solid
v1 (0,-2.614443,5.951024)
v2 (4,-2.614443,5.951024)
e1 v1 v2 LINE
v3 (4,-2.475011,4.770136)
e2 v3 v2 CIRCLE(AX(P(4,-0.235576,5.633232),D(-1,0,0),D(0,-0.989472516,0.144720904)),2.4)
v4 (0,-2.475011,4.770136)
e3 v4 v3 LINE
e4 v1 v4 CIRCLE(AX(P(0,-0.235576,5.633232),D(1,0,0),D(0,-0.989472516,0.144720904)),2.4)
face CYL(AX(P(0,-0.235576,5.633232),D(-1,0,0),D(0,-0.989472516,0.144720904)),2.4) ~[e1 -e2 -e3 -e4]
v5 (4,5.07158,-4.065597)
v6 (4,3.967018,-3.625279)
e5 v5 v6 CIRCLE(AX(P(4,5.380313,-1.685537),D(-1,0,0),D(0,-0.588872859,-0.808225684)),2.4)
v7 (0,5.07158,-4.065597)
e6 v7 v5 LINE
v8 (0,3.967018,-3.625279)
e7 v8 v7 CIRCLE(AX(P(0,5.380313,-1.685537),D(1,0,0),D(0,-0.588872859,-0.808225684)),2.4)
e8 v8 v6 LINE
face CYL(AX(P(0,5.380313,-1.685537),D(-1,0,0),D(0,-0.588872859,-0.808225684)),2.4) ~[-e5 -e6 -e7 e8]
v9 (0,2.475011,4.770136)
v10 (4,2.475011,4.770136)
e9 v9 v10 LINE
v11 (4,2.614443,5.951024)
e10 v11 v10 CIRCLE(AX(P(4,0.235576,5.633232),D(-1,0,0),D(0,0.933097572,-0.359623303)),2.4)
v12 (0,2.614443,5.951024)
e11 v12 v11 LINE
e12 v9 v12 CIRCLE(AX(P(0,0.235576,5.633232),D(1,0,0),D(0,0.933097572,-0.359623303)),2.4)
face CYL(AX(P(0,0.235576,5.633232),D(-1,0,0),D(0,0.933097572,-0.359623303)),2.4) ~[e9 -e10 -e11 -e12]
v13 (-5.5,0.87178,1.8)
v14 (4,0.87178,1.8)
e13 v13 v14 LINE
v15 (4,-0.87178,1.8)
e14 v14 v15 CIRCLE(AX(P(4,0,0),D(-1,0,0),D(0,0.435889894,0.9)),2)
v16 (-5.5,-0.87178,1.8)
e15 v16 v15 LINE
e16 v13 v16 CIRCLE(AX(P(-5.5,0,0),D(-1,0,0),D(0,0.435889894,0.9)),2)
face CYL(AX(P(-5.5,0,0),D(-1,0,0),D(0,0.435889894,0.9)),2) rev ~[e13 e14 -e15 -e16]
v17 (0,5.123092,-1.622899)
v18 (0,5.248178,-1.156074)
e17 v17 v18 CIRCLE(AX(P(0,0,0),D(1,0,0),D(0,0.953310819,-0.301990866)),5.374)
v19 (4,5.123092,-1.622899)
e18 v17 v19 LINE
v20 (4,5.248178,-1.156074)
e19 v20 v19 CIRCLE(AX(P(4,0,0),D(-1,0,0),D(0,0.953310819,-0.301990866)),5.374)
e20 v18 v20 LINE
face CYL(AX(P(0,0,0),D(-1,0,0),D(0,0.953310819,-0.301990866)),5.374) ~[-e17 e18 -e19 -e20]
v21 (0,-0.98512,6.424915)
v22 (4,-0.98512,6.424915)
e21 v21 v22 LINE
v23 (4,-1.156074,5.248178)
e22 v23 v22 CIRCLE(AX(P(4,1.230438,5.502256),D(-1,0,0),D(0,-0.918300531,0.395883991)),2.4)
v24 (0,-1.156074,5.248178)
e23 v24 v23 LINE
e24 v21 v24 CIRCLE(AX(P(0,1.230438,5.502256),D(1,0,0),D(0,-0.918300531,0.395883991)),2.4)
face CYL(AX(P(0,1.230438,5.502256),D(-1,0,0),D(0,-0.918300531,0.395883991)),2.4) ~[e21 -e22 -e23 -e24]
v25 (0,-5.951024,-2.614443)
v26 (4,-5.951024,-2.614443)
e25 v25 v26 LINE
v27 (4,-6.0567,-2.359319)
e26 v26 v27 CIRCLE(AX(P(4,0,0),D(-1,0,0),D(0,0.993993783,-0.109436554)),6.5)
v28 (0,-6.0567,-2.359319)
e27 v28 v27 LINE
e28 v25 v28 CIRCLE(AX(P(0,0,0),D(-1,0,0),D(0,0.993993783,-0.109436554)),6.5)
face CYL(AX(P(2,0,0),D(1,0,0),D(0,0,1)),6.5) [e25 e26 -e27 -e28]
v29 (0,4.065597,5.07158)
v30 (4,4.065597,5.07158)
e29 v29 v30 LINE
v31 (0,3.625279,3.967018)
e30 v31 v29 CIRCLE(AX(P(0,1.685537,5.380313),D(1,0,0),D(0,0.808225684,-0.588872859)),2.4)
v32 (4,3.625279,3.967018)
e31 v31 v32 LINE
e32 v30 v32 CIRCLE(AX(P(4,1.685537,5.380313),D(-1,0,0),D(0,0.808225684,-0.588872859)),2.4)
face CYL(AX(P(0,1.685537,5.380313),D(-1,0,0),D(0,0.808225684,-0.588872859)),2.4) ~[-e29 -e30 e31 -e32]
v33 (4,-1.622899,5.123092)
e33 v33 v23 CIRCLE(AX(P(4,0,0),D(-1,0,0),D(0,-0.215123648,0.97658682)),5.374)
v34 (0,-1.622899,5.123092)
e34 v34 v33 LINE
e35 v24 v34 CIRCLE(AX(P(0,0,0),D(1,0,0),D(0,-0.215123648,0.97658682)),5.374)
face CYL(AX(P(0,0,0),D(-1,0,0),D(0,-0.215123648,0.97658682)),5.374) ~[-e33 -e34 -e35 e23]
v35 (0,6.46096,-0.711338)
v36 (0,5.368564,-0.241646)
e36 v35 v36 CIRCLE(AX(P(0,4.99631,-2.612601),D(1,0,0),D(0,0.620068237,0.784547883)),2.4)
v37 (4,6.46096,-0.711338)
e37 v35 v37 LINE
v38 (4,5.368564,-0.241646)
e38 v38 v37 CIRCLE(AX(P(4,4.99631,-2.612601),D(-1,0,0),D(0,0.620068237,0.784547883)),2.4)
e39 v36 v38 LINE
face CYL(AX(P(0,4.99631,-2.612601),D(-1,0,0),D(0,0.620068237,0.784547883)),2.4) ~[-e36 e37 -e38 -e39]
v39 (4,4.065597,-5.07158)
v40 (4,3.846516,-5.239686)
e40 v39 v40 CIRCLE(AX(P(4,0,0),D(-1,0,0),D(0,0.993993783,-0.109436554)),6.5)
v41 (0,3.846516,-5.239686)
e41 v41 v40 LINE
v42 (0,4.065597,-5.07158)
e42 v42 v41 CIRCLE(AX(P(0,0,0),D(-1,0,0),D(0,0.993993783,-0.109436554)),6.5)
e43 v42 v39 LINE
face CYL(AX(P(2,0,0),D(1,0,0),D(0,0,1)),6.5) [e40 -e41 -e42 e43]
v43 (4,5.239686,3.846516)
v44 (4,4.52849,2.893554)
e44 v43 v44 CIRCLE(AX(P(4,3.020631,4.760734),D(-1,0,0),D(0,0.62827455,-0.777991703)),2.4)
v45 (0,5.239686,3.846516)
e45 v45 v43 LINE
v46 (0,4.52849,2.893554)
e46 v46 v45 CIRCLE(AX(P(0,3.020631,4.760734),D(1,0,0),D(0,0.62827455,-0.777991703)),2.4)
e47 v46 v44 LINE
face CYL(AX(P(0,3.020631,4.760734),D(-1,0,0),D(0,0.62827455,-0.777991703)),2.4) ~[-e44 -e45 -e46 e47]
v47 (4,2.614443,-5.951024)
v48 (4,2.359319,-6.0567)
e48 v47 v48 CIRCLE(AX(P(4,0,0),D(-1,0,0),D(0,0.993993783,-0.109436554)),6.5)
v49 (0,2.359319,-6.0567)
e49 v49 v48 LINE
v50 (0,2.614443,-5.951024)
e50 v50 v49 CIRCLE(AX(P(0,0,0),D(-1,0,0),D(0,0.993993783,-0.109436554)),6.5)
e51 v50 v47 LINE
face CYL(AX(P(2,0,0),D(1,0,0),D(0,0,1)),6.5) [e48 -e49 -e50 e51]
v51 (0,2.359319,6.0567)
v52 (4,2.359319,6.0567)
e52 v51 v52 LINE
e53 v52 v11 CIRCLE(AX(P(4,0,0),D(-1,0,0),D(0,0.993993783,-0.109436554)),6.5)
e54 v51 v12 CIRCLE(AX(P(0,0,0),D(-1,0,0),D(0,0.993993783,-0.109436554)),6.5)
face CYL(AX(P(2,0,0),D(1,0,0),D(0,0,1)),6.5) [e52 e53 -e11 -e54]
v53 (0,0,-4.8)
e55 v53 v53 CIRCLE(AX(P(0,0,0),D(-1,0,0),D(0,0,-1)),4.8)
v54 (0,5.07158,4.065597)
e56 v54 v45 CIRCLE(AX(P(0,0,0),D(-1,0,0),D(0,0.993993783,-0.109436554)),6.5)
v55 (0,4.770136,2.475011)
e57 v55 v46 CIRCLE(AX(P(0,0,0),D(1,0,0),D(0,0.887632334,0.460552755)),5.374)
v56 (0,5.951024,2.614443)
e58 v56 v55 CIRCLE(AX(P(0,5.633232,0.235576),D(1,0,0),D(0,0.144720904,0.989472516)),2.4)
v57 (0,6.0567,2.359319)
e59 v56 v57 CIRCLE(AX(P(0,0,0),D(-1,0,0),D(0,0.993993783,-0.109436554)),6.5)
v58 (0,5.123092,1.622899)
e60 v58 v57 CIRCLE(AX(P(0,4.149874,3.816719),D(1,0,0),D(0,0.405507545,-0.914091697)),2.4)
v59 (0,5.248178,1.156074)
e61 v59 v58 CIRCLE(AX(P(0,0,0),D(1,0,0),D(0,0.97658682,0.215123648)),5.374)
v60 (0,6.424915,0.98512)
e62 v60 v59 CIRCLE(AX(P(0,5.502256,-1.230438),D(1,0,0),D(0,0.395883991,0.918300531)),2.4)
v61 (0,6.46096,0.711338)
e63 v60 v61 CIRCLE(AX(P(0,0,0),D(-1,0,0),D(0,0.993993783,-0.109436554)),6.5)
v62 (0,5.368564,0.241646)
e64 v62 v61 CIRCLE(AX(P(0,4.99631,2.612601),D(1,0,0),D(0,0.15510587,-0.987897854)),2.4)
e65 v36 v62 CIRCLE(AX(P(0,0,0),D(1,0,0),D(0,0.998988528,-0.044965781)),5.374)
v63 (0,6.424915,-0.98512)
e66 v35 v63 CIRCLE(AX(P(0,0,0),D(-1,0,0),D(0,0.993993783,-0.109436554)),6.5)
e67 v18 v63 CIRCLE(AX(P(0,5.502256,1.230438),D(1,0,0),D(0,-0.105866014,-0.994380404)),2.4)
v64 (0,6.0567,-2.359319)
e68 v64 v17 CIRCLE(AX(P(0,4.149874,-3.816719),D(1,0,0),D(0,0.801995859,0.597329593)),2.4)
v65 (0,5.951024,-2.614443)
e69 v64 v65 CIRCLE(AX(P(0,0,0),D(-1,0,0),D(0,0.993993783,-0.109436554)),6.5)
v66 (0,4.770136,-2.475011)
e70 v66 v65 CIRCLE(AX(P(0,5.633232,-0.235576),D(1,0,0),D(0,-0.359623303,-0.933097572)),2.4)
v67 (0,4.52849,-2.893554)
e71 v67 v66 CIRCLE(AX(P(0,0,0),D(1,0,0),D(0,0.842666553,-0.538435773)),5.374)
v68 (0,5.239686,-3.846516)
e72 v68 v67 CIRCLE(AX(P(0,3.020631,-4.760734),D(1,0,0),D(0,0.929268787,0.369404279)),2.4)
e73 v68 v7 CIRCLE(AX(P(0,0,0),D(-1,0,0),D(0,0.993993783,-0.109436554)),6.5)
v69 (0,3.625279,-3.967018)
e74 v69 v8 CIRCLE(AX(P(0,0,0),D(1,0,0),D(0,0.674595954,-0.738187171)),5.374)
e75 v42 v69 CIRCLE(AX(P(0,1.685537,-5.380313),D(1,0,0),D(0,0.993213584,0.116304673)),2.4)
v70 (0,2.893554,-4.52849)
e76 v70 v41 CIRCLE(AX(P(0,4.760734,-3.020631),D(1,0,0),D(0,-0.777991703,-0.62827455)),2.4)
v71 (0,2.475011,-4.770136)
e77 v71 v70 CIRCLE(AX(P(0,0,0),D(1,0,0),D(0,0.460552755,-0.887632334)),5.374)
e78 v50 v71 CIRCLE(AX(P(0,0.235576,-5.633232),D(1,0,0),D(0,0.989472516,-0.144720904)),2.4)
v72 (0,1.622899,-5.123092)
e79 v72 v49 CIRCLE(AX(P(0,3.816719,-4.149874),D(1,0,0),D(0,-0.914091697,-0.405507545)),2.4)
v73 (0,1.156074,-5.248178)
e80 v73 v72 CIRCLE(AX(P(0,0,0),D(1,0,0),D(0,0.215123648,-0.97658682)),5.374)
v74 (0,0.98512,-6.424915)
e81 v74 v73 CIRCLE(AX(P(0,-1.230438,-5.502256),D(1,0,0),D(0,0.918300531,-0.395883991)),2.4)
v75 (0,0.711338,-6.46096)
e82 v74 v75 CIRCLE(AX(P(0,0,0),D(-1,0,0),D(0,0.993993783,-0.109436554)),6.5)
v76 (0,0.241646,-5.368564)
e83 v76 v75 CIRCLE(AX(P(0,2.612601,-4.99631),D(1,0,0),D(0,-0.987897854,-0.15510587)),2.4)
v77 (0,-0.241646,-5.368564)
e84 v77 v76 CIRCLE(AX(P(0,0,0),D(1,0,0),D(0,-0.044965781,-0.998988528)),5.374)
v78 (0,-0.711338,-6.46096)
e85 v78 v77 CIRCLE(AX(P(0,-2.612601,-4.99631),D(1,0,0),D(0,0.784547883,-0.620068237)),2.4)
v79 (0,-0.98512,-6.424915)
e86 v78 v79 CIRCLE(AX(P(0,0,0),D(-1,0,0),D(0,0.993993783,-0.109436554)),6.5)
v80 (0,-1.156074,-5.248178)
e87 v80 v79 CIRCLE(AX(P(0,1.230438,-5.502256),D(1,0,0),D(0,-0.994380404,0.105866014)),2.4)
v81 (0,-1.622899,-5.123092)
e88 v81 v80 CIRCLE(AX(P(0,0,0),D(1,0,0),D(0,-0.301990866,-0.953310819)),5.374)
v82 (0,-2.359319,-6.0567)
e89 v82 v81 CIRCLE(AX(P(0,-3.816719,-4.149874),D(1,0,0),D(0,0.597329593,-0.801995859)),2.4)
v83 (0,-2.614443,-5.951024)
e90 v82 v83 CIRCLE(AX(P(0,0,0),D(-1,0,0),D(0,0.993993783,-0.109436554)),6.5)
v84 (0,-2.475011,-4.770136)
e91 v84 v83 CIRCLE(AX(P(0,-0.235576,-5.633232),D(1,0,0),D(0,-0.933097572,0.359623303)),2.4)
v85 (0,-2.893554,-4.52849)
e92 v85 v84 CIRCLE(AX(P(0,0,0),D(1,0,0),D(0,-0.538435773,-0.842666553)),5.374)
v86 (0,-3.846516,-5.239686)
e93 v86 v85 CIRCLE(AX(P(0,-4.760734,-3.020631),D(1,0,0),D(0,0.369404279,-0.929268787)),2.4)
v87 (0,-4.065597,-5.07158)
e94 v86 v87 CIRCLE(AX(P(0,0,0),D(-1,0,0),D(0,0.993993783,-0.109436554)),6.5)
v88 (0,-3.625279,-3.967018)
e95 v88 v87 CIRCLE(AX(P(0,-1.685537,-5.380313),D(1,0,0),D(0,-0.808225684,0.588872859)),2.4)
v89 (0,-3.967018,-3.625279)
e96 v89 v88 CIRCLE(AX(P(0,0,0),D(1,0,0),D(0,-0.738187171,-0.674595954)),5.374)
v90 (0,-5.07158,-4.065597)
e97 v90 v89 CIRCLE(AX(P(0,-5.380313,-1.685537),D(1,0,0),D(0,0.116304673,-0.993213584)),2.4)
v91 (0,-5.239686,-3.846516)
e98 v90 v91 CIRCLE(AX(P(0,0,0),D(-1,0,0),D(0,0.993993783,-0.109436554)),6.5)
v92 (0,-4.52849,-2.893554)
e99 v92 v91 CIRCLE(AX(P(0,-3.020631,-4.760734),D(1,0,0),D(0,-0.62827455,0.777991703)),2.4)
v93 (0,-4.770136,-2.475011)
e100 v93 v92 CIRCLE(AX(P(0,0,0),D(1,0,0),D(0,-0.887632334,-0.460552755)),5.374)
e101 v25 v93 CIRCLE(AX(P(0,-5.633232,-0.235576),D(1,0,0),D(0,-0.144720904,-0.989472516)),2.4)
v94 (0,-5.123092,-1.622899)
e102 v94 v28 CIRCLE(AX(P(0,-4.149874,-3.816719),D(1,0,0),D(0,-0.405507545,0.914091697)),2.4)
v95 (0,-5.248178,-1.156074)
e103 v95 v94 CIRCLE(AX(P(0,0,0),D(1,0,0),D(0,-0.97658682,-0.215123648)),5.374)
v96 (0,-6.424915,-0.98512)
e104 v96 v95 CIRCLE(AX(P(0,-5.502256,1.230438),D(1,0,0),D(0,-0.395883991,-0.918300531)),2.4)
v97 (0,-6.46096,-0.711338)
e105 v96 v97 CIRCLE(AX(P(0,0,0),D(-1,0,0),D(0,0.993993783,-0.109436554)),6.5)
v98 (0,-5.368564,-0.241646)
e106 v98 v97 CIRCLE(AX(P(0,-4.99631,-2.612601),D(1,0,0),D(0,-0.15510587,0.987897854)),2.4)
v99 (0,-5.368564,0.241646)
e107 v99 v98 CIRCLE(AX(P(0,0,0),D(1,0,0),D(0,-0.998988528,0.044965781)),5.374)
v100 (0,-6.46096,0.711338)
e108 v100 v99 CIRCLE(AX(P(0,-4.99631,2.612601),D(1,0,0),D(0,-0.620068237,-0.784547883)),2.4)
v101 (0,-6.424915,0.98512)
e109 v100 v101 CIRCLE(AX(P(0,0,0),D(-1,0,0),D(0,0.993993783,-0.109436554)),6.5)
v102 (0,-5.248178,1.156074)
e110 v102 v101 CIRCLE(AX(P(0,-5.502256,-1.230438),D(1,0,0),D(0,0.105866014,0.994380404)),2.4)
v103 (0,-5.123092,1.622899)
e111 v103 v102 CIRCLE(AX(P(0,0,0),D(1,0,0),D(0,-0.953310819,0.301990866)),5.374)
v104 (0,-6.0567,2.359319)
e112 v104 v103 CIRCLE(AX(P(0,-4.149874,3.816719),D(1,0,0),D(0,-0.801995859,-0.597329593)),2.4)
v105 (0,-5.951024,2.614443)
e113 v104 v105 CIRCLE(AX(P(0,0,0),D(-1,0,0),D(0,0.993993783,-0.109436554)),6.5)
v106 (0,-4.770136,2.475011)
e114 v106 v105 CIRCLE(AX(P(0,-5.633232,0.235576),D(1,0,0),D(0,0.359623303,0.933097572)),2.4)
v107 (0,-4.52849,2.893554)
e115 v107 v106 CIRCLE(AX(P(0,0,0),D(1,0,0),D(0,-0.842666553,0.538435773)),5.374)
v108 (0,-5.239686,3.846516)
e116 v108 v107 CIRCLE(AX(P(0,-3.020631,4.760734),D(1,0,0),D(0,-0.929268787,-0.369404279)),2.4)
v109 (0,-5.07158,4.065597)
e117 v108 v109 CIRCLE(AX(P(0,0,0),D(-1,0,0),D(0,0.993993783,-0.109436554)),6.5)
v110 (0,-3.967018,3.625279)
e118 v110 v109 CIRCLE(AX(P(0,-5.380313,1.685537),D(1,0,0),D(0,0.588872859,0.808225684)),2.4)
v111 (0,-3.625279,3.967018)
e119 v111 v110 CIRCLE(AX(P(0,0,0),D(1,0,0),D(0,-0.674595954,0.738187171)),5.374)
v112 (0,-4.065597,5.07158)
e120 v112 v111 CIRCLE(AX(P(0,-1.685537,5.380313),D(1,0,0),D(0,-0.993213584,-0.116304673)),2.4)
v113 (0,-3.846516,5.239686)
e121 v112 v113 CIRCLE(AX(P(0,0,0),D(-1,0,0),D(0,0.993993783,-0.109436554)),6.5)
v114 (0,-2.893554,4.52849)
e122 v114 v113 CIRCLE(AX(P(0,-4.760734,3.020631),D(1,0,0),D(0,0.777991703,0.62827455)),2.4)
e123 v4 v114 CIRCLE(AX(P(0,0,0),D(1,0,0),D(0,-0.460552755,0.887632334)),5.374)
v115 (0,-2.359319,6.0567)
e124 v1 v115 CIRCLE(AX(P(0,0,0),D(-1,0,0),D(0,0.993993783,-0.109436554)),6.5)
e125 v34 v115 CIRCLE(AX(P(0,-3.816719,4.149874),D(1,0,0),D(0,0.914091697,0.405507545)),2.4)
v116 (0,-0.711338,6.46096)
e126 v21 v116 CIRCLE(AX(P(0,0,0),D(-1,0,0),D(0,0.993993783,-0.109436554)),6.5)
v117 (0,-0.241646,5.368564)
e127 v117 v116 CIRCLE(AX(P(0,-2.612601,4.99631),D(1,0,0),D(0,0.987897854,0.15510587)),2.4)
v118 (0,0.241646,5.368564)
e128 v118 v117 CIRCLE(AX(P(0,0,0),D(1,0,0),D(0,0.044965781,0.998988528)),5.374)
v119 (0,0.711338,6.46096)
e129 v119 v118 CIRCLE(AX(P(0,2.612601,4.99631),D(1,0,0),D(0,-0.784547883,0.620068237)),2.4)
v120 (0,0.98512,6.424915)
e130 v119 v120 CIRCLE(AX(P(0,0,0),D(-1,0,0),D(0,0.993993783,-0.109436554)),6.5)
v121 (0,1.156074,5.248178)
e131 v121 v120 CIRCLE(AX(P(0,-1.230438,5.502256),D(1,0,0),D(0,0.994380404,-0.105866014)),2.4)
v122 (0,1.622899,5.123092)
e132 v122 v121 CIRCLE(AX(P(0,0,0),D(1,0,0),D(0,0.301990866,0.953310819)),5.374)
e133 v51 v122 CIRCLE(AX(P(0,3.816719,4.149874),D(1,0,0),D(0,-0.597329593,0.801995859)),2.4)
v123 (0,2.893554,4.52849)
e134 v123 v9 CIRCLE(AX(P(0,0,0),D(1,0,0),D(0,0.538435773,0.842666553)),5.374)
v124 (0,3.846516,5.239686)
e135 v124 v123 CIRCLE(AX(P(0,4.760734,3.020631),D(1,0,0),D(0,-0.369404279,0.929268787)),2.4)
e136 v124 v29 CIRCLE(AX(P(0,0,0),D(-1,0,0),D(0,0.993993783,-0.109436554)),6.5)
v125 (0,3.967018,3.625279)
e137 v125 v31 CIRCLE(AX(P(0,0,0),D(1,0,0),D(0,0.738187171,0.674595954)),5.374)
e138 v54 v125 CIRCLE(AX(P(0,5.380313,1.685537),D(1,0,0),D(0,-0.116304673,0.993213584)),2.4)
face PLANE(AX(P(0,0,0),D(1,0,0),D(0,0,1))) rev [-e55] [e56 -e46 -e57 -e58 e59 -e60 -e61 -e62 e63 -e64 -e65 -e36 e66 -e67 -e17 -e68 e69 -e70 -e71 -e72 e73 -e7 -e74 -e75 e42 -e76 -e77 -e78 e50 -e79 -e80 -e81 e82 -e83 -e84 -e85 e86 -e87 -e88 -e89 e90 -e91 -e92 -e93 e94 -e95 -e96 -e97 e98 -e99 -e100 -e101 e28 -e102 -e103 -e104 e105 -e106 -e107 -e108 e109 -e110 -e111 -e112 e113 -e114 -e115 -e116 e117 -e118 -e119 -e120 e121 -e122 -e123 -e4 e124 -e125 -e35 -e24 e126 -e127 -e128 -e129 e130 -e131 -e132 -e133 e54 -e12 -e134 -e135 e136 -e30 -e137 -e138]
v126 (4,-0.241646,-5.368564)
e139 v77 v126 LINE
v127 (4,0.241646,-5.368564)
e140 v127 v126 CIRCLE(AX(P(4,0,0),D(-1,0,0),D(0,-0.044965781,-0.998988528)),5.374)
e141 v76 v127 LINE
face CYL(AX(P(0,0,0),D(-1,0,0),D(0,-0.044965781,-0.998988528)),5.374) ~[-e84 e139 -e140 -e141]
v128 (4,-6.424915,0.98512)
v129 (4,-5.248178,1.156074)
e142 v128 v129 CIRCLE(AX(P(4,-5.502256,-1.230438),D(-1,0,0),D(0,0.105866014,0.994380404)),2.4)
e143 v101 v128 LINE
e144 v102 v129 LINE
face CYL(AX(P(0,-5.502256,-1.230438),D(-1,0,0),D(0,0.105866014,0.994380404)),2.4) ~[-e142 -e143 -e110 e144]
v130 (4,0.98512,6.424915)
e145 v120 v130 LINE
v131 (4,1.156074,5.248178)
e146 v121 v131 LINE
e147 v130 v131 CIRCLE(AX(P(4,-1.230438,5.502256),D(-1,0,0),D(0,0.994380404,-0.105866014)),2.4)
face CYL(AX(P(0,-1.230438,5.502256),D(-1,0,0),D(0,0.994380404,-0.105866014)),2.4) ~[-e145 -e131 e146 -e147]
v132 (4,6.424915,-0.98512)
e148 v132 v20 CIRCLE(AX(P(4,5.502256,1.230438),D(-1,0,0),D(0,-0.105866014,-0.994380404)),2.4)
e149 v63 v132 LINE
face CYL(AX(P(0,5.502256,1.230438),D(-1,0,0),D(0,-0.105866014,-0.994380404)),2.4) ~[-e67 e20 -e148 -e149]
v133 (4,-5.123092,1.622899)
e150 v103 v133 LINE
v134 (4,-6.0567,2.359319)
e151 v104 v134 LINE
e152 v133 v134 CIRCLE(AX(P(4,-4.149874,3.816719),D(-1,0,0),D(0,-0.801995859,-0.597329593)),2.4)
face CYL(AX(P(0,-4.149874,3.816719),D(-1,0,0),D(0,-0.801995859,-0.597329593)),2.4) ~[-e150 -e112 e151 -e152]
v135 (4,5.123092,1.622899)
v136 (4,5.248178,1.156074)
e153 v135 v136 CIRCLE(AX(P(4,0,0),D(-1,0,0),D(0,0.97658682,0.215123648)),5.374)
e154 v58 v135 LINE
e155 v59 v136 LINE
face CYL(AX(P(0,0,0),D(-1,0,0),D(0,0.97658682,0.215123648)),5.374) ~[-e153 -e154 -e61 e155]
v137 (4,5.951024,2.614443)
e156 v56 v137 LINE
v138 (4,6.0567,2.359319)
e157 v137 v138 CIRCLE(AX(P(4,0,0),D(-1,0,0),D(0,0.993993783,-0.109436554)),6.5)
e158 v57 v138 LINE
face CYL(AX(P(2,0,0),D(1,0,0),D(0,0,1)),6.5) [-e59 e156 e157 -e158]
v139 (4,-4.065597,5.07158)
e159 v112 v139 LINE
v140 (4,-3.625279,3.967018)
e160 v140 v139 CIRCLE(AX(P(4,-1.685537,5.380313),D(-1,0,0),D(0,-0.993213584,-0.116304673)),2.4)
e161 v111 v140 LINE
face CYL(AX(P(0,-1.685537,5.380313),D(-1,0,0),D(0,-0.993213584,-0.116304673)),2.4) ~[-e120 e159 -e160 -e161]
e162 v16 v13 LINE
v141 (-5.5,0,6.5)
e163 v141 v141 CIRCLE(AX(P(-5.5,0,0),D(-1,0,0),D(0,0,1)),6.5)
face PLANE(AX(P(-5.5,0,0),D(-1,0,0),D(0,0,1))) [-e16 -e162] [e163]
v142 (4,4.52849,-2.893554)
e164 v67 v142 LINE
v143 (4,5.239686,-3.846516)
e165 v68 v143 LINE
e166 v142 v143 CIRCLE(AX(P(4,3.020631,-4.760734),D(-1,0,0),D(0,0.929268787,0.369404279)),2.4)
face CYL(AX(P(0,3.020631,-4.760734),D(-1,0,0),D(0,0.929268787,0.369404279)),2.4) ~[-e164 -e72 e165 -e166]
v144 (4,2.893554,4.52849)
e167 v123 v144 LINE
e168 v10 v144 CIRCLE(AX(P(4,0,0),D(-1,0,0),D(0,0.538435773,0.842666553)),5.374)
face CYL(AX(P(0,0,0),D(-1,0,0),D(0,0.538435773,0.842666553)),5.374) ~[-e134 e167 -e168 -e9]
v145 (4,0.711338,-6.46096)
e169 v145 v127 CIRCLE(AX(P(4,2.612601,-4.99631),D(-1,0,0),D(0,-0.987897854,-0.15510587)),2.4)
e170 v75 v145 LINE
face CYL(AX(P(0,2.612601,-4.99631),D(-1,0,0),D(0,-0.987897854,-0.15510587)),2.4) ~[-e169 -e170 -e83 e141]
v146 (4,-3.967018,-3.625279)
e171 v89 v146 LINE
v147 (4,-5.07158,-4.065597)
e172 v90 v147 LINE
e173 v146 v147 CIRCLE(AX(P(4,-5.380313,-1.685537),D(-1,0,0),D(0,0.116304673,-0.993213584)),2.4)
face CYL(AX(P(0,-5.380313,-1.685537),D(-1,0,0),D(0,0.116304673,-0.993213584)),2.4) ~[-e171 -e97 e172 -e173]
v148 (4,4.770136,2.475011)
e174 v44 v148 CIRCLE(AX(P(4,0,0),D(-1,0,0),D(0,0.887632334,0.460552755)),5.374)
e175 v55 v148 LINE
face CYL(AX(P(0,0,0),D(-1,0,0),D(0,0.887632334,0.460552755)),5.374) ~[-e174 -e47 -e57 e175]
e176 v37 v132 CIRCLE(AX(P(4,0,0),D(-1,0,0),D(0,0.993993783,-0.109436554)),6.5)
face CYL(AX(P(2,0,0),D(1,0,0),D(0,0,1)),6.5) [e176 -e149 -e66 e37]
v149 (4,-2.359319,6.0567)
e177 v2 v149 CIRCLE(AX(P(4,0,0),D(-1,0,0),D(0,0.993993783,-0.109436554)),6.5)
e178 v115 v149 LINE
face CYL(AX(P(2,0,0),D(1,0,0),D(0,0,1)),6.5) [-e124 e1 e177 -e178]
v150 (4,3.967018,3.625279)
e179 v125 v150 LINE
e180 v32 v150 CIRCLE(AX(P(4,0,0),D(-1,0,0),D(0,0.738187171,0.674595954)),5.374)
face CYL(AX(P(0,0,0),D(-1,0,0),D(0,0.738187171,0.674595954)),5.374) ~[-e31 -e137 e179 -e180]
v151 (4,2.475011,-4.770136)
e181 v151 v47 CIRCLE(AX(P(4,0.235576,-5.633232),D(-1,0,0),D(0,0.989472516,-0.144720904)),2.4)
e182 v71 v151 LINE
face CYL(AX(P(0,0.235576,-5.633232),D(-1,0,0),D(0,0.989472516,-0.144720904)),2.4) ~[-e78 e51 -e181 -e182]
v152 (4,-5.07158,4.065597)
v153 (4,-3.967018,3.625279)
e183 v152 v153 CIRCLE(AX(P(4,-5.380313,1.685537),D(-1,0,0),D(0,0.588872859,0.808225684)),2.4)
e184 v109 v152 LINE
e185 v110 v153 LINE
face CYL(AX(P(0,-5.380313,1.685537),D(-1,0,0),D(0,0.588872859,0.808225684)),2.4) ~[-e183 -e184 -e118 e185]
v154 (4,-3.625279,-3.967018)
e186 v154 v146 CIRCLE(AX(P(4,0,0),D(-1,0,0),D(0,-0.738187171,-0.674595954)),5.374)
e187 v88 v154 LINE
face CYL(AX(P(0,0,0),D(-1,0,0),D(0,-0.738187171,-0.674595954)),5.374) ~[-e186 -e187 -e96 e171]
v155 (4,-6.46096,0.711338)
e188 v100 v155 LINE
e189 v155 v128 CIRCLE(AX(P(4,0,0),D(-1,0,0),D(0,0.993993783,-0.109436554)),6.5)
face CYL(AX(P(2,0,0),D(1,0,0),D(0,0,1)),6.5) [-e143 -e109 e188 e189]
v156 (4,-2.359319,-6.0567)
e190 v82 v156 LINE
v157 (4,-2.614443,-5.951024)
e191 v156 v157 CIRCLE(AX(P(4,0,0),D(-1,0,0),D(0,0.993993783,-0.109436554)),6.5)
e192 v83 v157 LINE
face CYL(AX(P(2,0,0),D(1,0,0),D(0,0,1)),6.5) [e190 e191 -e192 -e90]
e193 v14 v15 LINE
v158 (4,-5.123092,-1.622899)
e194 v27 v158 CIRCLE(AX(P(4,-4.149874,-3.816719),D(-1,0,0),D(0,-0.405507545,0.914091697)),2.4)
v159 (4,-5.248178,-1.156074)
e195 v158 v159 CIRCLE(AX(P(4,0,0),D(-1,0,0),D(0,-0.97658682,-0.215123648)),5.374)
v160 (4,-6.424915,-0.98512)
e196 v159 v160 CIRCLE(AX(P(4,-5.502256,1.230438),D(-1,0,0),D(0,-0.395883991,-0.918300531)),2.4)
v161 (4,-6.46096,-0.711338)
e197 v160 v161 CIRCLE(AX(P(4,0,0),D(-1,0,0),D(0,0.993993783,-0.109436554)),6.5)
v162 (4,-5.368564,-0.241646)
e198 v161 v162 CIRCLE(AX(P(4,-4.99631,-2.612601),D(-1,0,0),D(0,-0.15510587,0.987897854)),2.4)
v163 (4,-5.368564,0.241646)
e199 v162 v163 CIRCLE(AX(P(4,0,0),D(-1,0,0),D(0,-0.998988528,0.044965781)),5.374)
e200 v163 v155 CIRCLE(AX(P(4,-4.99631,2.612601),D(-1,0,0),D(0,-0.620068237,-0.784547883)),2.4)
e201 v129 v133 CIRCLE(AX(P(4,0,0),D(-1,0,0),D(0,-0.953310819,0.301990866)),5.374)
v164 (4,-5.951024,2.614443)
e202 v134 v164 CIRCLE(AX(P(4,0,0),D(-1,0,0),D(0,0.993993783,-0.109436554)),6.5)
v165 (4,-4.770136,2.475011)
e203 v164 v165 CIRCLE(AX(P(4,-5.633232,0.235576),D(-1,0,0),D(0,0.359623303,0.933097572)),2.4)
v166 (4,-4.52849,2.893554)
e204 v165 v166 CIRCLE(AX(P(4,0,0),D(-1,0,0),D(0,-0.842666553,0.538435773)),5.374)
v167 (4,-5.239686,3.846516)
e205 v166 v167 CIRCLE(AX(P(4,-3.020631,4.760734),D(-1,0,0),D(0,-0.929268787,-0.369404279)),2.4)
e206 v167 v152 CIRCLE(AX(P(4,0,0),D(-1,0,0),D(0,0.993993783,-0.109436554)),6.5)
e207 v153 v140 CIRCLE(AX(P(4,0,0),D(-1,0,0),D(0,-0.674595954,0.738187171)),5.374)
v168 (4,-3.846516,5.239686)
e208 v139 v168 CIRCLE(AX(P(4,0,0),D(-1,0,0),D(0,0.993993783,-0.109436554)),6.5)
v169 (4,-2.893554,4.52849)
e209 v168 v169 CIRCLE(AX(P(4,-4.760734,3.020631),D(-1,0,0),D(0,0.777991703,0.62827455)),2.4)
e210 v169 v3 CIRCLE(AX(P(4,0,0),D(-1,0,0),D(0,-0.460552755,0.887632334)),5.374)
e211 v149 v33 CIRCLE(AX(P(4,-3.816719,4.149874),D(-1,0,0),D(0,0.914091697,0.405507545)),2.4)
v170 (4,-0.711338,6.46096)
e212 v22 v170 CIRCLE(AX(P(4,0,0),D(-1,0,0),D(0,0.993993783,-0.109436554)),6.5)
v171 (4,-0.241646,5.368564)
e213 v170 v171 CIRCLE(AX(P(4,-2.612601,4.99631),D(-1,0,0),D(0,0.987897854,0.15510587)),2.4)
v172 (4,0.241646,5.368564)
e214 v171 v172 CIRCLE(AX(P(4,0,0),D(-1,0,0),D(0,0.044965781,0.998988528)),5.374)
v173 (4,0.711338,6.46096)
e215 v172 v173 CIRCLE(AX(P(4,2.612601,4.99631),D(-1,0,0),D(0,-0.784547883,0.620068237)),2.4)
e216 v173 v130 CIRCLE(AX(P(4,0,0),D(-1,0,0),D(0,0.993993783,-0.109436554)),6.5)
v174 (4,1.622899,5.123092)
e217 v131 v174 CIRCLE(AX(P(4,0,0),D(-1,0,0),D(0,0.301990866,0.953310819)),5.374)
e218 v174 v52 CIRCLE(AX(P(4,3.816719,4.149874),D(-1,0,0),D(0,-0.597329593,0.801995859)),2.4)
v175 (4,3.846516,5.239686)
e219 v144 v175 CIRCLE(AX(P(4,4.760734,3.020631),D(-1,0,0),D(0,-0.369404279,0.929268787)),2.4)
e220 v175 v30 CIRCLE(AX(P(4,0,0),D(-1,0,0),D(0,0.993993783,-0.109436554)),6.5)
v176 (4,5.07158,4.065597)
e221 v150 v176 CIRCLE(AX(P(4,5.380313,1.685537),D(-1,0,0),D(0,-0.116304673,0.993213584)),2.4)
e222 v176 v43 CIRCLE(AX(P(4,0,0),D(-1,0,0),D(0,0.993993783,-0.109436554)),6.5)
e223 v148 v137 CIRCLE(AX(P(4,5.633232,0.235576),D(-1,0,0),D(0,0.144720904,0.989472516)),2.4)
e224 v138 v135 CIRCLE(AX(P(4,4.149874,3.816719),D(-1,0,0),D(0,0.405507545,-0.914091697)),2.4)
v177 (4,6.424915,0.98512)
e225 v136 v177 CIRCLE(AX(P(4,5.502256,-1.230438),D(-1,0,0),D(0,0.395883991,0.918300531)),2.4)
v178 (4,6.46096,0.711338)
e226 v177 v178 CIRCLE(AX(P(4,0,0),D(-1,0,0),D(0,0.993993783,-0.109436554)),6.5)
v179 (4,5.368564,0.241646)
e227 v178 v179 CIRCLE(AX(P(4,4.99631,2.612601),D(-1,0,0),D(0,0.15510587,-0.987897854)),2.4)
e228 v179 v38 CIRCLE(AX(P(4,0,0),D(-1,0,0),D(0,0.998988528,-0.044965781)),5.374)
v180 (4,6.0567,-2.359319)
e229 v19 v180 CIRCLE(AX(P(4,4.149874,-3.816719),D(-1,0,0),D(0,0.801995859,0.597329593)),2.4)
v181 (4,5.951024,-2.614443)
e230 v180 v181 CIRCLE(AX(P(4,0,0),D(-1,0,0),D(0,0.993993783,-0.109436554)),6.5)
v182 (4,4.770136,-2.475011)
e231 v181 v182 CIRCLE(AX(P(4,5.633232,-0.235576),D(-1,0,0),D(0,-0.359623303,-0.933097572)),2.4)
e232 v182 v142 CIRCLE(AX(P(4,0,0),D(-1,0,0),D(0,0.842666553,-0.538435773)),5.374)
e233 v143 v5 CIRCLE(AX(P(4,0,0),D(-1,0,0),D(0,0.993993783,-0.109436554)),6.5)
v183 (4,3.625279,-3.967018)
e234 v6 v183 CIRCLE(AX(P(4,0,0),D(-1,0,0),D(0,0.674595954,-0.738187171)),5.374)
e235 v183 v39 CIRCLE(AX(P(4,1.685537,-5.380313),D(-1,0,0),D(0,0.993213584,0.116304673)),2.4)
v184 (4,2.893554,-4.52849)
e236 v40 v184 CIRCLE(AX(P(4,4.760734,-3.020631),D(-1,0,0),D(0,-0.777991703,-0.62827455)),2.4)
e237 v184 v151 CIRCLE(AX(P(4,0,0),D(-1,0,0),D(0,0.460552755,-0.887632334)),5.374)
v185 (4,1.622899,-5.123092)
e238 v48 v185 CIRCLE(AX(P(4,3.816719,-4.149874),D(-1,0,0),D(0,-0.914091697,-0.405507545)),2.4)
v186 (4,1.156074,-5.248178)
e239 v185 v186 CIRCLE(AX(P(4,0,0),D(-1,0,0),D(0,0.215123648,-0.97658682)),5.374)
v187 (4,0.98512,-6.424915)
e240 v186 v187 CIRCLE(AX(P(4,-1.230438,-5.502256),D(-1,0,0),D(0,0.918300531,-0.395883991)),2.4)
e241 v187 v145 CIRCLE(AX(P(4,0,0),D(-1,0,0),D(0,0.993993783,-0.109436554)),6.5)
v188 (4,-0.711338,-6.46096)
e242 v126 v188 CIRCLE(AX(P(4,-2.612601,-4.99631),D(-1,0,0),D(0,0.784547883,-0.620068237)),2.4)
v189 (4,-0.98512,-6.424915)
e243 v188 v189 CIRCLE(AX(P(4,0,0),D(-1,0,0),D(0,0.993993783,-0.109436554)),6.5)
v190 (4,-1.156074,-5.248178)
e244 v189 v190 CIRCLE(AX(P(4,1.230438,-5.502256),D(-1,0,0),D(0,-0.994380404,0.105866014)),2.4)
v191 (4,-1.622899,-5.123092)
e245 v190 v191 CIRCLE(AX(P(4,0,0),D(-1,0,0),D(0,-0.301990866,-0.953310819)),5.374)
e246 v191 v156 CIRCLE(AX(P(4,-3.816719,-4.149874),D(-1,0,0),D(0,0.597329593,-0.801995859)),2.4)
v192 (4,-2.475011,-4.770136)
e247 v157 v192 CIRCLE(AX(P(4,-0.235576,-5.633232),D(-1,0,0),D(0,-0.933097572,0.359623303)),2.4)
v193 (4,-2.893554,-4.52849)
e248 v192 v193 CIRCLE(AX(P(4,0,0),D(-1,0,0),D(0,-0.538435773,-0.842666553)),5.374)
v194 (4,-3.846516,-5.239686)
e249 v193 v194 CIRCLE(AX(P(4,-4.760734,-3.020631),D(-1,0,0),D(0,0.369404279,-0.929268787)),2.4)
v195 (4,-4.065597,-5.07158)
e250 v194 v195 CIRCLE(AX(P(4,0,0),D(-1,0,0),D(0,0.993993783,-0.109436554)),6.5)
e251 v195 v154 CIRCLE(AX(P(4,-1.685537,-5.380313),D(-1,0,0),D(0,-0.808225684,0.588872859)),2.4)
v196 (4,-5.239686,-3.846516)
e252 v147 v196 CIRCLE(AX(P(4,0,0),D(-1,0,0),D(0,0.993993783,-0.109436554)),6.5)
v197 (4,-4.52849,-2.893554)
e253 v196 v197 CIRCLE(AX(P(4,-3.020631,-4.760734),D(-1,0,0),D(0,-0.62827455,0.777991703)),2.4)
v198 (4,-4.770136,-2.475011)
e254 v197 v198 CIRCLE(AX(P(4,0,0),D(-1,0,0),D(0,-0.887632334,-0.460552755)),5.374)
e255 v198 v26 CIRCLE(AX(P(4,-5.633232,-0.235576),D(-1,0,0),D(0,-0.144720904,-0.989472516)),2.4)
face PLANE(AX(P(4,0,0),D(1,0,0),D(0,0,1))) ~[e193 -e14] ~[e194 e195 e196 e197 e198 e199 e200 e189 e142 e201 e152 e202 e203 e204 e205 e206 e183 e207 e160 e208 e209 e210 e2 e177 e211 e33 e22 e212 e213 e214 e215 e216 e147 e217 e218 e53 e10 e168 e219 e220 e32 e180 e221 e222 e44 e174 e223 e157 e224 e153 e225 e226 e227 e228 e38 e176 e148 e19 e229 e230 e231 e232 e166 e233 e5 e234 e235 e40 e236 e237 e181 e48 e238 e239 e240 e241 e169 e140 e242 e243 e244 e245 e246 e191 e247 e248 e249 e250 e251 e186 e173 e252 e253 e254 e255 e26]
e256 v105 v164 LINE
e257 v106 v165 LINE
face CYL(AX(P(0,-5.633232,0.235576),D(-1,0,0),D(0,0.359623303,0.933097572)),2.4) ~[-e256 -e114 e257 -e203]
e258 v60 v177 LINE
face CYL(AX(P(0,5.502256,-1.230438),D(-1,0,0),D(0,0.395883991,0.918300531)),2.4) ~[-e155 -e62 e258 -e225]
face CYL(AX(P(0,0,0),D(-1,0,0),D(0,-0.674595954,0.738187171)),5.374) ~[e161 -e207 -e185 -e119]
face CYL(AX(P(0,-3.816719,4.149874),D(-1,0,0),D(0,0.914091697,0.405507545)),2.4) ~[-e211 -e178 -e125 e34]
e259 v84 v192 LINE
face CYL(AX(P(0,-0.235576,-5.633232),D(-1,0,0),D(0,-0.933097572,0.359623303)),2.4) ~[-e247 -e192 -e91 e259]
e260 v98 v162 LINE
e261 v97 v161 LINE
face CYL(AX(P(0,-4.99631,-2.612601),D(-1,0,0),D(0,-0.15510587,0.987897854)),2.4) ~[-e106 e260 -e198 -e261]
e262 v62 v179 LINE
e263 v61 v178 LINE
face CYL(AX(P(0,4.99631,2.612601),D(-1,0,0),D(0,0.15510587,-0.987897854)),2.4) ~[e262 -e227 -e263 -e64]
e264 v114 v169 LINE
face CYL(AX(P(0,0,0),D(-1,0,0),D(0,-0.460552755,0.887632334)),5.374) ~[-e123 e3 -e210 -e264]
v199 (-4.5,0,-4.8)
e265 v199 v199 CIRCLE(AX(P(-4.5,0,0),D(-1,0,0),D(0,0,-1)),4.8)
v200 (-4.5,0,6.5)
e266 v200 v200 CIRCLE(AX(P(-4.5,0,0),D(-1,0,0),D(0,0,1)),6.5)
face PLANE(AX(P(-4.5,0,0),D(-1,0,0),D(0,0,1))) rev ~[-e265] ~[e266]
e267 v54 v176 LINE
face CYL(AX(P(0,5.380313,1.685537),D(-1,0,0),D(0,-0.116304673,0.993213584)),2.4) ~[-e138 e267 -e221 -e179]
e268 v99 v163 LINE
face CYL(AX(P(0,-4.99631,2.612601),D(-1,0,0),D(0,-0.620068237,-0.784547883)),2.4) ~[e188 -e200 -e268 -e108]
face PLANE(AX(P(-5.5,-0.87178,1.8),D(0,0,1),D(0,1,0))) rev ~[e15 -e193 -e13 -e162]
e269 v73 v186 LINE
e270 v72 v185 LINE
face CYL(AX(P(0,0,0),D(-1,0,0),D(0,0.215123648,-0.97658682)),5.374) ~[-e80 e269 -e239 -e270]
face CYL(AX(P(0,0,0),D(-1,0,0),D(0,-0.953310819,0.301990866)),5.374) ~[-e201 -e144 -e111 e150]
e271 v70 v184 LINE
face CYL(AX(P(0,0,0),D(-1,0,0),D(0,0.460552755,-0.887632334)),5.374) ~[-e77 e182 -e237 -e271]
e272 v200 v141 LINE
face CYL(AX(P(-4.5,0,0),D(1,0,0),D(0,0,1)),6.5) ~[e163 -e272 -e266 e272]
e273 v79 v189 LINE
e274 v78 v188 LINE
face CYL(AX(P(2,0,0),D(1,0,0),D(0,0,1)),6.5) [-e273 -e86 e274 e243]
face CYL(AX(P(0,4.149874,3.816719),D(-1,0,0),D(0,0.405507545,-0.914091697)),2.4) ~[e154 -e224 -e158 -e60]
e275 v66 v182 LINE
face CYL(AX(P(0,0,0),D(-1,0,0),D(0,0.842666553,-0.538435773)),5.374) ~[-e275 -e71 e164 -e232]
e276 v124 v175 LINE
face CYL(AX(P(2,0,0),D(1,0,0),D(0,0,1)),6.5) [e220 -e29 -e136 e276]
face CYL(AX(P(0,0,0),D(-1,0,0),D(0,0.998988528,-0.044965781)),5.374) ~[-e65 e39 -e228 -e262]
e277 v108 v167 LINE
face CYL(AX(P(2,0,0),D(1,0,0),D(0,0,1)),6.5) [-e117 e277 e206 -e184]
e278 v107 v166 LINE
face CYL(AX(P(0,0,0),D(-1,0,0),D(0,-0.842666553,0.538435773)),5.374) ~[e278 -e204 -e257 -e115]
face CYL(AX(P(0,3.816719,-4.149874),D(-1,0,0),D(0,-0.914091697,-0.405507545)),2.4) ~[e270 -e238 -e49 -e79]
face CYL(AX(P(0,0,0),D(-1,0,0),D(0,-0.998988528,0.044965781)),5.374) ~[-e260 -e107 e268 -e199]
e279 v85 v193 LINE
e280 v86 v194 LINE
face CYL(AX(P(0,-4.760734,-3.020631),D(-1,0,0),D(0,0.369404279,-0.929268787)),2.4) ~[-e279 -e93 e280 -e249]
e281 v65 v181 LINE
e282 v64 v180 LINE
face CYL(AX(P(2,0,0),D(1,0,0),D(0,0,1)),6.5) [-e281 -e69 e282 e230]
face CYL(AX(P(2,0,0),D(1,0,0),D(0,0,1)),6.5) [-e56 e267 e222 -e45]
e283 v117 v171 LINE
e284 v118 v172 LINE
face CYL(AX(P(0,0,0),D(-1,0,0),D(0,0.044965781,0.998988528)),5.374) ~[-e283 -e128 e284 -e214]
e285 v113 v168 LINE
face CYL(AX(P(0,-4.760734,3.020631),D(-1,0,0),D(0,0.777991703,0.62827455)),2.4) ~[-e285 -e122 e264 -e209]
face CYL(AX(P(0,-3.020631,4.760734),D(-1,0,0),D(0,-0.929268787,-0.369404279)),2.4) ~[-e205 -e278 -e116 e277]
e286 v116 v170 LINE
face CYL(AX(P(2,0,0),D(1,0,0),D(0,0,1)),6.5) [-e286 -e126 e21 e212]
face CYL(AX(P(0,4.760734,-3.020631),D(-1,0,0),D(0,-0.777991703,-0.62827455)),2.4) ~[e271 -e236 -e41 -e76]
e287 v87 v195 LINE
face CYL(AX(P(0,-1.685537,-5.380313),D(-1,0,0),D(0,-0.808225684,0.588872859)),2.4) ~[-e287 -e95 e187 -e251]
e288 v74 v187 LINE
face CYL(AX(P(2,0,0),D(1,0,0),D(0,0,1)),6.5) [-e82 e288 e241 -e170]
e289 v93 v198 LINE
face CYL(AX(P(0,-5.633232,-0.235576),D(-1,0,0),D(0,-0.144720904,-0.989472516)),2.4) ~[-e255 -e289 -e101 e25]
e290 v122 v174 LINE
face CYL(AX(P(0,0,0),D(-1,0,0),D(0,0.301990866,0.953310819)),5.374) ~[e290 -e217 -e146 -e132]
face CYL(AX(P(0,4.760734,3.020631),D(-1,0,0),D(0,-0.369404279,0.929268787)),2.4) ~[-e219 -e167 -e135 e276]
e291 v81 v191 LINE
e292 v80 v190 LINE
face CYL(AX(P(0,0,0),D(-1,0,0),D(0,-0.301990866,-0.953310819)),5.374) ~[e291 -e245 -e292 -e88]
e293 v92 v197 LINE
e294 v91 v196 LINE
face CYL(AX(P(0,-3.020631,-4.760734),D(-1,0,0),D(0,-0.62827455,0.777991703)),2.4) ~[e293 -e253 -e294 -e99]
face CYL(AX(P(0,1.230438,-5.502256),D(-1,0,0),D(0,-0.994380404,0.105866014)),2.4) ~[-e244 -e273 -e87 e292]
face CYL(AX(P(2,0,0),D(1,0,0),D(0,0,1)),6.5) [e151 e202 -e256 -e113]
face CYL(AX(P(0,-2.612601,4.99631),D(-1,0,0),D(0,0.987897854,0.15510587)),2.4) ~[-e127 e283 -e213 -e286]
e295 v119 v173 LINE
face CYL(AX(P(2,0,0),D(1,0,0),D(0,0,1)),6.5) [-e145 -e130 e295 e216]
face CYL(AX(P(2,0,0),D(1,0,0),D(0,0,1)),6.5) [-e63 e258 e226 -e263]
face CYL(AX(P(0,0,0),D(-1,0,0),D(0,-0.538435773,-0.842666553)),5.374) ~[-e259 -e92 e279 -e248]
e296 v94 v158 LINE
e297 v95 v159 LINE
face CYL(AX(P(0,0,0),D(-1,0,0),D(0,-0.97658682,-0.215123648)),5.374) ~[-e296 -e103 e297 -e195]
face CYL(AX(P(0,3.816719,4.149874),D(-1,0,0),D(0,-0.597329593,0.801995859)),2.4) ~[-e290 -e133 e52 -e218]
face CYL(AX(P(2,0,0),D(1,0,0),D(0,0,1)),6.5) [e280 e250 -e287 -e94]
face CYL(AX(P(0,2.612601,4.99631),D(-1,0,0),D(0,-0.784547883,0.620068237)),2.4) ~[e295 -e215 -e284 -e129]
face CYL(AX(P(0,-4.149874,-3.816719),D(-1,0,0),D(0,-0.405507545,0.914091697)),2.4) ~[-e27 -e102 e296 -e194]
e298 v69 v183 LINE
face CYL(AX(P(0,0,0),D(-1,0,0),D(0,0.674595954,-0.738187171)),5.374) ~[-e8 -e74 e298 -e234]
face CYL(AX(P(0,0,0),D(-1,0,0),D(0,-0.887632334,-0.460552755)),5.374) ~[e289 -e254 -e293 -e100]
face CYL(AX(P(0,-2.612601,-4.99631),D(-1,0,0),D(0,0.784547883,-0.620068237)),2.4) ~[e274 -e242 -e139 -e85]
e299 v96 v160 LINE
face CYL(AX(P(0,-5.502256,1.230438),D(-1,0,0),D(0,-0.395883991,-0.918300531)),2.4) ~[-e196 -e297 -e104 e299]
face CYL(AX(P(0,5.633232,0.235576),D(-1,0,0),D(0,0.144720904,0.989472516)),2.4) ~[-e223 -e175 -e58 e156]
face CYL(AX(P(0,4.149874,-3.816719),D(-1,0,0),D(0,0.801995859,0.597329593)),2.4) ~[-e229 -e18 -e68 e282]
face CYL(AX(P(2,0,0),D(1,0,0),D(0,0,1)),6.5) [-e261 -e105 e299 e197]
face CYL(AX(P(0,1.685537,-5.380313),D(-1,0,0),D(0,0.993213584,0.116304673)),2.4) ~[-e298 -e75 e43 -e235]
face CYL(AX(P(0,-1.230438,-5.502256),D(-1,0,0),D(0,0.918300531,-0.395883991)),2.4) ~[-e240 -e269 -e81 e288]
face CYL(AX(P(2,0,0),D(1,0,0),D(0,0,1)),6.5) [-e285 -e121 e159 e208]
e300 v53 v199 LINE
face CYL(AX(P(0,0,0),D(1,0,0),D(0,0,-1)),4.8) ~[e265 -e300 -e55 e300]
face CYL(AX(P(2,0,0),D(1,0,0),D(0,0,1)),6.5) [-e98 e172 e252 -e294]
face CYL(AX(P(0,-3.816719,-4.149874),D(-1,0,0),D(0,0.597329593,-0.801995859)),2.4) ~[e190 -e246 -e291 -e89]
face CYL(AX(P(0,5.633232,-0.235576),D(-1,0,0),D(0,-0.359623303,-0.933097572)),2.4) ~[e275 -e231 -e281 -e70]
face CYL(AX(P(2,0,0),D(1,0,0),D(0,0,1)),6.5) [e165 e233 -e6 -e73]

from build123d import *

# Parameters (mm, degrees)
BASPROSKE_W         = 4
BASPROSKE_H         = 6.5
TOOTHCUT_DEPTH      = 11.024968828
TEETHCUTS_COUNT     = 24
TEETHCUTS_ANGLE     = 345
BORSKE_R            = 1.5
BORE_DEPTH          = 50.0000508
SKETCH_1_R          = 4.8
SKETCH_1_R_2        = 1.5
EXTRUDE_1_DEPTH     = 4.5
SKETCH_2_R          = 6.5
SKETCH_2_R_2        = 1.5
EXTRUDE_2_DEPTH     = 1
CUT_EXTRUDE_1_REACH = 15.219


with BuildPart() as part:
    # BasProSke → Base-Revolve (revolve)
    with BuildSketch(Plane(origin=(0, 0, 0), x_dir=(1, 0, 0), z_dir=(0, 1, 0)), mode=Mode.PRIVATE) as base_revolve_sk:
        with Locations((2, 3.25)):
            Rectangle(BASPROSKE_W, BASPROSKE_H)
    revolve(base_revolve_sk.sketch.rotate(Axis((-10, 0, 0), (1, 0, 0)), 180), axis=Axis((-10, 0, 0), (1, 0, 0)))

    # TooCutSke → ToothCut (cut, through all)
    with BuildSketch(Plane(origin=(0, 0, 0), x_dir=(0, 0, -1), z_dir=(1, 0, 0))):
        with BuildLine():
            ThreePointArc((0.241646108, 5.368564348), (0, 5.374), (-0.241646108, 5.368564348))
            ThreePointArc((-0.241646108, 5.368564348), (-0.413699957, 5.957993365), (-0.729686037, 6.48447403))
            ThreePointArc((-0.729686037, 6.48447403), (0, 6.5254), (0.729686037, 6.48447403))
            ThreePointArc((0.729686037, 6.48447403), (0.413699957, 5.957993365), (0.241646108, 5.368564348))
        make_face()
    toothcut = extrude(amount=TOOTHCUT_DEPTH, mode=Mode.SUBTRACT)

    # TeethCuts: ToothCut ×24 about axis
    teethcuts_axis = Axis((-10, 0, 0), (1, 0, 0))
    for i in range(1, TEETHCUTS_COUNT):
        add(toothcut.rotate(teethcuts_axis, i * TEETHCUTS_ANGLE / (TEETHCUTS_COUNT - 1)), mode=Mode.SUBTRACT)

    # BorSke → Bore (cut, symmetric)
    with BuildSketch(Plane(origin=(0, 0, 0), x_dir=(0, 0, -1), z_dir=(1, 0, 0))):
        with Locations(Location((0, 0, 0), (0, 0, 180))):
            Circle(BORSKE_R)
    extrude(amount=BORE_DEPTH, both=True, mode=Mode.SUBTRACT)

    # 草图1 → 凸台-拉伸1 (add)
    with BuildSketch(Plane.ZY):
        with Locations(Location((0, 0, 0), (0, 0, 180))):
            Circle(SKETCH_1_R)
        Circle(SKETCH_1_R_2, mode=Mode.SUBTRACT)
    extrude(amount=EXTRUDE_1_DEPTH)

    # 草图2 → 凸台-拉伸2 (add)
    with BuildSketch(Plane.ZY.offset(4.5)):
        Circle(SKETCH_2_R)
        Circle(SKETCH_2_R_2, mode=Mode.SUBTRACT)
    extrude(amount=EXTRUDE_2_DEPTH)

    # 草图3 → 切除-拉伸1 (cut, up to next)
    with BuildSketch(Plane.ZY.offset(5.5), mode=Mode.PRIVATE) as cut_extrude_1_sk1:
        with BuildLine():
            Line((1.8, -0.871779789), (1.8, 0.871779789))
            ThreePointArc((1.8, 0.871779789), (-2, 0), (1.8, -0.871779789))
        make_face()
    cut_extrude_1_tool1 = extrude(cut_extrude_1_sk1.sketch, amount=-CUT_EXTRUDE_1_REACH, mode=Mode.PRIVATE) & part.part
    add(cut_extrude_1_tool1.solids().sort_by_distance((-5.5, 0, -0.035819))[0], mode=Mode.SUBTRACT)


solid = part.part
